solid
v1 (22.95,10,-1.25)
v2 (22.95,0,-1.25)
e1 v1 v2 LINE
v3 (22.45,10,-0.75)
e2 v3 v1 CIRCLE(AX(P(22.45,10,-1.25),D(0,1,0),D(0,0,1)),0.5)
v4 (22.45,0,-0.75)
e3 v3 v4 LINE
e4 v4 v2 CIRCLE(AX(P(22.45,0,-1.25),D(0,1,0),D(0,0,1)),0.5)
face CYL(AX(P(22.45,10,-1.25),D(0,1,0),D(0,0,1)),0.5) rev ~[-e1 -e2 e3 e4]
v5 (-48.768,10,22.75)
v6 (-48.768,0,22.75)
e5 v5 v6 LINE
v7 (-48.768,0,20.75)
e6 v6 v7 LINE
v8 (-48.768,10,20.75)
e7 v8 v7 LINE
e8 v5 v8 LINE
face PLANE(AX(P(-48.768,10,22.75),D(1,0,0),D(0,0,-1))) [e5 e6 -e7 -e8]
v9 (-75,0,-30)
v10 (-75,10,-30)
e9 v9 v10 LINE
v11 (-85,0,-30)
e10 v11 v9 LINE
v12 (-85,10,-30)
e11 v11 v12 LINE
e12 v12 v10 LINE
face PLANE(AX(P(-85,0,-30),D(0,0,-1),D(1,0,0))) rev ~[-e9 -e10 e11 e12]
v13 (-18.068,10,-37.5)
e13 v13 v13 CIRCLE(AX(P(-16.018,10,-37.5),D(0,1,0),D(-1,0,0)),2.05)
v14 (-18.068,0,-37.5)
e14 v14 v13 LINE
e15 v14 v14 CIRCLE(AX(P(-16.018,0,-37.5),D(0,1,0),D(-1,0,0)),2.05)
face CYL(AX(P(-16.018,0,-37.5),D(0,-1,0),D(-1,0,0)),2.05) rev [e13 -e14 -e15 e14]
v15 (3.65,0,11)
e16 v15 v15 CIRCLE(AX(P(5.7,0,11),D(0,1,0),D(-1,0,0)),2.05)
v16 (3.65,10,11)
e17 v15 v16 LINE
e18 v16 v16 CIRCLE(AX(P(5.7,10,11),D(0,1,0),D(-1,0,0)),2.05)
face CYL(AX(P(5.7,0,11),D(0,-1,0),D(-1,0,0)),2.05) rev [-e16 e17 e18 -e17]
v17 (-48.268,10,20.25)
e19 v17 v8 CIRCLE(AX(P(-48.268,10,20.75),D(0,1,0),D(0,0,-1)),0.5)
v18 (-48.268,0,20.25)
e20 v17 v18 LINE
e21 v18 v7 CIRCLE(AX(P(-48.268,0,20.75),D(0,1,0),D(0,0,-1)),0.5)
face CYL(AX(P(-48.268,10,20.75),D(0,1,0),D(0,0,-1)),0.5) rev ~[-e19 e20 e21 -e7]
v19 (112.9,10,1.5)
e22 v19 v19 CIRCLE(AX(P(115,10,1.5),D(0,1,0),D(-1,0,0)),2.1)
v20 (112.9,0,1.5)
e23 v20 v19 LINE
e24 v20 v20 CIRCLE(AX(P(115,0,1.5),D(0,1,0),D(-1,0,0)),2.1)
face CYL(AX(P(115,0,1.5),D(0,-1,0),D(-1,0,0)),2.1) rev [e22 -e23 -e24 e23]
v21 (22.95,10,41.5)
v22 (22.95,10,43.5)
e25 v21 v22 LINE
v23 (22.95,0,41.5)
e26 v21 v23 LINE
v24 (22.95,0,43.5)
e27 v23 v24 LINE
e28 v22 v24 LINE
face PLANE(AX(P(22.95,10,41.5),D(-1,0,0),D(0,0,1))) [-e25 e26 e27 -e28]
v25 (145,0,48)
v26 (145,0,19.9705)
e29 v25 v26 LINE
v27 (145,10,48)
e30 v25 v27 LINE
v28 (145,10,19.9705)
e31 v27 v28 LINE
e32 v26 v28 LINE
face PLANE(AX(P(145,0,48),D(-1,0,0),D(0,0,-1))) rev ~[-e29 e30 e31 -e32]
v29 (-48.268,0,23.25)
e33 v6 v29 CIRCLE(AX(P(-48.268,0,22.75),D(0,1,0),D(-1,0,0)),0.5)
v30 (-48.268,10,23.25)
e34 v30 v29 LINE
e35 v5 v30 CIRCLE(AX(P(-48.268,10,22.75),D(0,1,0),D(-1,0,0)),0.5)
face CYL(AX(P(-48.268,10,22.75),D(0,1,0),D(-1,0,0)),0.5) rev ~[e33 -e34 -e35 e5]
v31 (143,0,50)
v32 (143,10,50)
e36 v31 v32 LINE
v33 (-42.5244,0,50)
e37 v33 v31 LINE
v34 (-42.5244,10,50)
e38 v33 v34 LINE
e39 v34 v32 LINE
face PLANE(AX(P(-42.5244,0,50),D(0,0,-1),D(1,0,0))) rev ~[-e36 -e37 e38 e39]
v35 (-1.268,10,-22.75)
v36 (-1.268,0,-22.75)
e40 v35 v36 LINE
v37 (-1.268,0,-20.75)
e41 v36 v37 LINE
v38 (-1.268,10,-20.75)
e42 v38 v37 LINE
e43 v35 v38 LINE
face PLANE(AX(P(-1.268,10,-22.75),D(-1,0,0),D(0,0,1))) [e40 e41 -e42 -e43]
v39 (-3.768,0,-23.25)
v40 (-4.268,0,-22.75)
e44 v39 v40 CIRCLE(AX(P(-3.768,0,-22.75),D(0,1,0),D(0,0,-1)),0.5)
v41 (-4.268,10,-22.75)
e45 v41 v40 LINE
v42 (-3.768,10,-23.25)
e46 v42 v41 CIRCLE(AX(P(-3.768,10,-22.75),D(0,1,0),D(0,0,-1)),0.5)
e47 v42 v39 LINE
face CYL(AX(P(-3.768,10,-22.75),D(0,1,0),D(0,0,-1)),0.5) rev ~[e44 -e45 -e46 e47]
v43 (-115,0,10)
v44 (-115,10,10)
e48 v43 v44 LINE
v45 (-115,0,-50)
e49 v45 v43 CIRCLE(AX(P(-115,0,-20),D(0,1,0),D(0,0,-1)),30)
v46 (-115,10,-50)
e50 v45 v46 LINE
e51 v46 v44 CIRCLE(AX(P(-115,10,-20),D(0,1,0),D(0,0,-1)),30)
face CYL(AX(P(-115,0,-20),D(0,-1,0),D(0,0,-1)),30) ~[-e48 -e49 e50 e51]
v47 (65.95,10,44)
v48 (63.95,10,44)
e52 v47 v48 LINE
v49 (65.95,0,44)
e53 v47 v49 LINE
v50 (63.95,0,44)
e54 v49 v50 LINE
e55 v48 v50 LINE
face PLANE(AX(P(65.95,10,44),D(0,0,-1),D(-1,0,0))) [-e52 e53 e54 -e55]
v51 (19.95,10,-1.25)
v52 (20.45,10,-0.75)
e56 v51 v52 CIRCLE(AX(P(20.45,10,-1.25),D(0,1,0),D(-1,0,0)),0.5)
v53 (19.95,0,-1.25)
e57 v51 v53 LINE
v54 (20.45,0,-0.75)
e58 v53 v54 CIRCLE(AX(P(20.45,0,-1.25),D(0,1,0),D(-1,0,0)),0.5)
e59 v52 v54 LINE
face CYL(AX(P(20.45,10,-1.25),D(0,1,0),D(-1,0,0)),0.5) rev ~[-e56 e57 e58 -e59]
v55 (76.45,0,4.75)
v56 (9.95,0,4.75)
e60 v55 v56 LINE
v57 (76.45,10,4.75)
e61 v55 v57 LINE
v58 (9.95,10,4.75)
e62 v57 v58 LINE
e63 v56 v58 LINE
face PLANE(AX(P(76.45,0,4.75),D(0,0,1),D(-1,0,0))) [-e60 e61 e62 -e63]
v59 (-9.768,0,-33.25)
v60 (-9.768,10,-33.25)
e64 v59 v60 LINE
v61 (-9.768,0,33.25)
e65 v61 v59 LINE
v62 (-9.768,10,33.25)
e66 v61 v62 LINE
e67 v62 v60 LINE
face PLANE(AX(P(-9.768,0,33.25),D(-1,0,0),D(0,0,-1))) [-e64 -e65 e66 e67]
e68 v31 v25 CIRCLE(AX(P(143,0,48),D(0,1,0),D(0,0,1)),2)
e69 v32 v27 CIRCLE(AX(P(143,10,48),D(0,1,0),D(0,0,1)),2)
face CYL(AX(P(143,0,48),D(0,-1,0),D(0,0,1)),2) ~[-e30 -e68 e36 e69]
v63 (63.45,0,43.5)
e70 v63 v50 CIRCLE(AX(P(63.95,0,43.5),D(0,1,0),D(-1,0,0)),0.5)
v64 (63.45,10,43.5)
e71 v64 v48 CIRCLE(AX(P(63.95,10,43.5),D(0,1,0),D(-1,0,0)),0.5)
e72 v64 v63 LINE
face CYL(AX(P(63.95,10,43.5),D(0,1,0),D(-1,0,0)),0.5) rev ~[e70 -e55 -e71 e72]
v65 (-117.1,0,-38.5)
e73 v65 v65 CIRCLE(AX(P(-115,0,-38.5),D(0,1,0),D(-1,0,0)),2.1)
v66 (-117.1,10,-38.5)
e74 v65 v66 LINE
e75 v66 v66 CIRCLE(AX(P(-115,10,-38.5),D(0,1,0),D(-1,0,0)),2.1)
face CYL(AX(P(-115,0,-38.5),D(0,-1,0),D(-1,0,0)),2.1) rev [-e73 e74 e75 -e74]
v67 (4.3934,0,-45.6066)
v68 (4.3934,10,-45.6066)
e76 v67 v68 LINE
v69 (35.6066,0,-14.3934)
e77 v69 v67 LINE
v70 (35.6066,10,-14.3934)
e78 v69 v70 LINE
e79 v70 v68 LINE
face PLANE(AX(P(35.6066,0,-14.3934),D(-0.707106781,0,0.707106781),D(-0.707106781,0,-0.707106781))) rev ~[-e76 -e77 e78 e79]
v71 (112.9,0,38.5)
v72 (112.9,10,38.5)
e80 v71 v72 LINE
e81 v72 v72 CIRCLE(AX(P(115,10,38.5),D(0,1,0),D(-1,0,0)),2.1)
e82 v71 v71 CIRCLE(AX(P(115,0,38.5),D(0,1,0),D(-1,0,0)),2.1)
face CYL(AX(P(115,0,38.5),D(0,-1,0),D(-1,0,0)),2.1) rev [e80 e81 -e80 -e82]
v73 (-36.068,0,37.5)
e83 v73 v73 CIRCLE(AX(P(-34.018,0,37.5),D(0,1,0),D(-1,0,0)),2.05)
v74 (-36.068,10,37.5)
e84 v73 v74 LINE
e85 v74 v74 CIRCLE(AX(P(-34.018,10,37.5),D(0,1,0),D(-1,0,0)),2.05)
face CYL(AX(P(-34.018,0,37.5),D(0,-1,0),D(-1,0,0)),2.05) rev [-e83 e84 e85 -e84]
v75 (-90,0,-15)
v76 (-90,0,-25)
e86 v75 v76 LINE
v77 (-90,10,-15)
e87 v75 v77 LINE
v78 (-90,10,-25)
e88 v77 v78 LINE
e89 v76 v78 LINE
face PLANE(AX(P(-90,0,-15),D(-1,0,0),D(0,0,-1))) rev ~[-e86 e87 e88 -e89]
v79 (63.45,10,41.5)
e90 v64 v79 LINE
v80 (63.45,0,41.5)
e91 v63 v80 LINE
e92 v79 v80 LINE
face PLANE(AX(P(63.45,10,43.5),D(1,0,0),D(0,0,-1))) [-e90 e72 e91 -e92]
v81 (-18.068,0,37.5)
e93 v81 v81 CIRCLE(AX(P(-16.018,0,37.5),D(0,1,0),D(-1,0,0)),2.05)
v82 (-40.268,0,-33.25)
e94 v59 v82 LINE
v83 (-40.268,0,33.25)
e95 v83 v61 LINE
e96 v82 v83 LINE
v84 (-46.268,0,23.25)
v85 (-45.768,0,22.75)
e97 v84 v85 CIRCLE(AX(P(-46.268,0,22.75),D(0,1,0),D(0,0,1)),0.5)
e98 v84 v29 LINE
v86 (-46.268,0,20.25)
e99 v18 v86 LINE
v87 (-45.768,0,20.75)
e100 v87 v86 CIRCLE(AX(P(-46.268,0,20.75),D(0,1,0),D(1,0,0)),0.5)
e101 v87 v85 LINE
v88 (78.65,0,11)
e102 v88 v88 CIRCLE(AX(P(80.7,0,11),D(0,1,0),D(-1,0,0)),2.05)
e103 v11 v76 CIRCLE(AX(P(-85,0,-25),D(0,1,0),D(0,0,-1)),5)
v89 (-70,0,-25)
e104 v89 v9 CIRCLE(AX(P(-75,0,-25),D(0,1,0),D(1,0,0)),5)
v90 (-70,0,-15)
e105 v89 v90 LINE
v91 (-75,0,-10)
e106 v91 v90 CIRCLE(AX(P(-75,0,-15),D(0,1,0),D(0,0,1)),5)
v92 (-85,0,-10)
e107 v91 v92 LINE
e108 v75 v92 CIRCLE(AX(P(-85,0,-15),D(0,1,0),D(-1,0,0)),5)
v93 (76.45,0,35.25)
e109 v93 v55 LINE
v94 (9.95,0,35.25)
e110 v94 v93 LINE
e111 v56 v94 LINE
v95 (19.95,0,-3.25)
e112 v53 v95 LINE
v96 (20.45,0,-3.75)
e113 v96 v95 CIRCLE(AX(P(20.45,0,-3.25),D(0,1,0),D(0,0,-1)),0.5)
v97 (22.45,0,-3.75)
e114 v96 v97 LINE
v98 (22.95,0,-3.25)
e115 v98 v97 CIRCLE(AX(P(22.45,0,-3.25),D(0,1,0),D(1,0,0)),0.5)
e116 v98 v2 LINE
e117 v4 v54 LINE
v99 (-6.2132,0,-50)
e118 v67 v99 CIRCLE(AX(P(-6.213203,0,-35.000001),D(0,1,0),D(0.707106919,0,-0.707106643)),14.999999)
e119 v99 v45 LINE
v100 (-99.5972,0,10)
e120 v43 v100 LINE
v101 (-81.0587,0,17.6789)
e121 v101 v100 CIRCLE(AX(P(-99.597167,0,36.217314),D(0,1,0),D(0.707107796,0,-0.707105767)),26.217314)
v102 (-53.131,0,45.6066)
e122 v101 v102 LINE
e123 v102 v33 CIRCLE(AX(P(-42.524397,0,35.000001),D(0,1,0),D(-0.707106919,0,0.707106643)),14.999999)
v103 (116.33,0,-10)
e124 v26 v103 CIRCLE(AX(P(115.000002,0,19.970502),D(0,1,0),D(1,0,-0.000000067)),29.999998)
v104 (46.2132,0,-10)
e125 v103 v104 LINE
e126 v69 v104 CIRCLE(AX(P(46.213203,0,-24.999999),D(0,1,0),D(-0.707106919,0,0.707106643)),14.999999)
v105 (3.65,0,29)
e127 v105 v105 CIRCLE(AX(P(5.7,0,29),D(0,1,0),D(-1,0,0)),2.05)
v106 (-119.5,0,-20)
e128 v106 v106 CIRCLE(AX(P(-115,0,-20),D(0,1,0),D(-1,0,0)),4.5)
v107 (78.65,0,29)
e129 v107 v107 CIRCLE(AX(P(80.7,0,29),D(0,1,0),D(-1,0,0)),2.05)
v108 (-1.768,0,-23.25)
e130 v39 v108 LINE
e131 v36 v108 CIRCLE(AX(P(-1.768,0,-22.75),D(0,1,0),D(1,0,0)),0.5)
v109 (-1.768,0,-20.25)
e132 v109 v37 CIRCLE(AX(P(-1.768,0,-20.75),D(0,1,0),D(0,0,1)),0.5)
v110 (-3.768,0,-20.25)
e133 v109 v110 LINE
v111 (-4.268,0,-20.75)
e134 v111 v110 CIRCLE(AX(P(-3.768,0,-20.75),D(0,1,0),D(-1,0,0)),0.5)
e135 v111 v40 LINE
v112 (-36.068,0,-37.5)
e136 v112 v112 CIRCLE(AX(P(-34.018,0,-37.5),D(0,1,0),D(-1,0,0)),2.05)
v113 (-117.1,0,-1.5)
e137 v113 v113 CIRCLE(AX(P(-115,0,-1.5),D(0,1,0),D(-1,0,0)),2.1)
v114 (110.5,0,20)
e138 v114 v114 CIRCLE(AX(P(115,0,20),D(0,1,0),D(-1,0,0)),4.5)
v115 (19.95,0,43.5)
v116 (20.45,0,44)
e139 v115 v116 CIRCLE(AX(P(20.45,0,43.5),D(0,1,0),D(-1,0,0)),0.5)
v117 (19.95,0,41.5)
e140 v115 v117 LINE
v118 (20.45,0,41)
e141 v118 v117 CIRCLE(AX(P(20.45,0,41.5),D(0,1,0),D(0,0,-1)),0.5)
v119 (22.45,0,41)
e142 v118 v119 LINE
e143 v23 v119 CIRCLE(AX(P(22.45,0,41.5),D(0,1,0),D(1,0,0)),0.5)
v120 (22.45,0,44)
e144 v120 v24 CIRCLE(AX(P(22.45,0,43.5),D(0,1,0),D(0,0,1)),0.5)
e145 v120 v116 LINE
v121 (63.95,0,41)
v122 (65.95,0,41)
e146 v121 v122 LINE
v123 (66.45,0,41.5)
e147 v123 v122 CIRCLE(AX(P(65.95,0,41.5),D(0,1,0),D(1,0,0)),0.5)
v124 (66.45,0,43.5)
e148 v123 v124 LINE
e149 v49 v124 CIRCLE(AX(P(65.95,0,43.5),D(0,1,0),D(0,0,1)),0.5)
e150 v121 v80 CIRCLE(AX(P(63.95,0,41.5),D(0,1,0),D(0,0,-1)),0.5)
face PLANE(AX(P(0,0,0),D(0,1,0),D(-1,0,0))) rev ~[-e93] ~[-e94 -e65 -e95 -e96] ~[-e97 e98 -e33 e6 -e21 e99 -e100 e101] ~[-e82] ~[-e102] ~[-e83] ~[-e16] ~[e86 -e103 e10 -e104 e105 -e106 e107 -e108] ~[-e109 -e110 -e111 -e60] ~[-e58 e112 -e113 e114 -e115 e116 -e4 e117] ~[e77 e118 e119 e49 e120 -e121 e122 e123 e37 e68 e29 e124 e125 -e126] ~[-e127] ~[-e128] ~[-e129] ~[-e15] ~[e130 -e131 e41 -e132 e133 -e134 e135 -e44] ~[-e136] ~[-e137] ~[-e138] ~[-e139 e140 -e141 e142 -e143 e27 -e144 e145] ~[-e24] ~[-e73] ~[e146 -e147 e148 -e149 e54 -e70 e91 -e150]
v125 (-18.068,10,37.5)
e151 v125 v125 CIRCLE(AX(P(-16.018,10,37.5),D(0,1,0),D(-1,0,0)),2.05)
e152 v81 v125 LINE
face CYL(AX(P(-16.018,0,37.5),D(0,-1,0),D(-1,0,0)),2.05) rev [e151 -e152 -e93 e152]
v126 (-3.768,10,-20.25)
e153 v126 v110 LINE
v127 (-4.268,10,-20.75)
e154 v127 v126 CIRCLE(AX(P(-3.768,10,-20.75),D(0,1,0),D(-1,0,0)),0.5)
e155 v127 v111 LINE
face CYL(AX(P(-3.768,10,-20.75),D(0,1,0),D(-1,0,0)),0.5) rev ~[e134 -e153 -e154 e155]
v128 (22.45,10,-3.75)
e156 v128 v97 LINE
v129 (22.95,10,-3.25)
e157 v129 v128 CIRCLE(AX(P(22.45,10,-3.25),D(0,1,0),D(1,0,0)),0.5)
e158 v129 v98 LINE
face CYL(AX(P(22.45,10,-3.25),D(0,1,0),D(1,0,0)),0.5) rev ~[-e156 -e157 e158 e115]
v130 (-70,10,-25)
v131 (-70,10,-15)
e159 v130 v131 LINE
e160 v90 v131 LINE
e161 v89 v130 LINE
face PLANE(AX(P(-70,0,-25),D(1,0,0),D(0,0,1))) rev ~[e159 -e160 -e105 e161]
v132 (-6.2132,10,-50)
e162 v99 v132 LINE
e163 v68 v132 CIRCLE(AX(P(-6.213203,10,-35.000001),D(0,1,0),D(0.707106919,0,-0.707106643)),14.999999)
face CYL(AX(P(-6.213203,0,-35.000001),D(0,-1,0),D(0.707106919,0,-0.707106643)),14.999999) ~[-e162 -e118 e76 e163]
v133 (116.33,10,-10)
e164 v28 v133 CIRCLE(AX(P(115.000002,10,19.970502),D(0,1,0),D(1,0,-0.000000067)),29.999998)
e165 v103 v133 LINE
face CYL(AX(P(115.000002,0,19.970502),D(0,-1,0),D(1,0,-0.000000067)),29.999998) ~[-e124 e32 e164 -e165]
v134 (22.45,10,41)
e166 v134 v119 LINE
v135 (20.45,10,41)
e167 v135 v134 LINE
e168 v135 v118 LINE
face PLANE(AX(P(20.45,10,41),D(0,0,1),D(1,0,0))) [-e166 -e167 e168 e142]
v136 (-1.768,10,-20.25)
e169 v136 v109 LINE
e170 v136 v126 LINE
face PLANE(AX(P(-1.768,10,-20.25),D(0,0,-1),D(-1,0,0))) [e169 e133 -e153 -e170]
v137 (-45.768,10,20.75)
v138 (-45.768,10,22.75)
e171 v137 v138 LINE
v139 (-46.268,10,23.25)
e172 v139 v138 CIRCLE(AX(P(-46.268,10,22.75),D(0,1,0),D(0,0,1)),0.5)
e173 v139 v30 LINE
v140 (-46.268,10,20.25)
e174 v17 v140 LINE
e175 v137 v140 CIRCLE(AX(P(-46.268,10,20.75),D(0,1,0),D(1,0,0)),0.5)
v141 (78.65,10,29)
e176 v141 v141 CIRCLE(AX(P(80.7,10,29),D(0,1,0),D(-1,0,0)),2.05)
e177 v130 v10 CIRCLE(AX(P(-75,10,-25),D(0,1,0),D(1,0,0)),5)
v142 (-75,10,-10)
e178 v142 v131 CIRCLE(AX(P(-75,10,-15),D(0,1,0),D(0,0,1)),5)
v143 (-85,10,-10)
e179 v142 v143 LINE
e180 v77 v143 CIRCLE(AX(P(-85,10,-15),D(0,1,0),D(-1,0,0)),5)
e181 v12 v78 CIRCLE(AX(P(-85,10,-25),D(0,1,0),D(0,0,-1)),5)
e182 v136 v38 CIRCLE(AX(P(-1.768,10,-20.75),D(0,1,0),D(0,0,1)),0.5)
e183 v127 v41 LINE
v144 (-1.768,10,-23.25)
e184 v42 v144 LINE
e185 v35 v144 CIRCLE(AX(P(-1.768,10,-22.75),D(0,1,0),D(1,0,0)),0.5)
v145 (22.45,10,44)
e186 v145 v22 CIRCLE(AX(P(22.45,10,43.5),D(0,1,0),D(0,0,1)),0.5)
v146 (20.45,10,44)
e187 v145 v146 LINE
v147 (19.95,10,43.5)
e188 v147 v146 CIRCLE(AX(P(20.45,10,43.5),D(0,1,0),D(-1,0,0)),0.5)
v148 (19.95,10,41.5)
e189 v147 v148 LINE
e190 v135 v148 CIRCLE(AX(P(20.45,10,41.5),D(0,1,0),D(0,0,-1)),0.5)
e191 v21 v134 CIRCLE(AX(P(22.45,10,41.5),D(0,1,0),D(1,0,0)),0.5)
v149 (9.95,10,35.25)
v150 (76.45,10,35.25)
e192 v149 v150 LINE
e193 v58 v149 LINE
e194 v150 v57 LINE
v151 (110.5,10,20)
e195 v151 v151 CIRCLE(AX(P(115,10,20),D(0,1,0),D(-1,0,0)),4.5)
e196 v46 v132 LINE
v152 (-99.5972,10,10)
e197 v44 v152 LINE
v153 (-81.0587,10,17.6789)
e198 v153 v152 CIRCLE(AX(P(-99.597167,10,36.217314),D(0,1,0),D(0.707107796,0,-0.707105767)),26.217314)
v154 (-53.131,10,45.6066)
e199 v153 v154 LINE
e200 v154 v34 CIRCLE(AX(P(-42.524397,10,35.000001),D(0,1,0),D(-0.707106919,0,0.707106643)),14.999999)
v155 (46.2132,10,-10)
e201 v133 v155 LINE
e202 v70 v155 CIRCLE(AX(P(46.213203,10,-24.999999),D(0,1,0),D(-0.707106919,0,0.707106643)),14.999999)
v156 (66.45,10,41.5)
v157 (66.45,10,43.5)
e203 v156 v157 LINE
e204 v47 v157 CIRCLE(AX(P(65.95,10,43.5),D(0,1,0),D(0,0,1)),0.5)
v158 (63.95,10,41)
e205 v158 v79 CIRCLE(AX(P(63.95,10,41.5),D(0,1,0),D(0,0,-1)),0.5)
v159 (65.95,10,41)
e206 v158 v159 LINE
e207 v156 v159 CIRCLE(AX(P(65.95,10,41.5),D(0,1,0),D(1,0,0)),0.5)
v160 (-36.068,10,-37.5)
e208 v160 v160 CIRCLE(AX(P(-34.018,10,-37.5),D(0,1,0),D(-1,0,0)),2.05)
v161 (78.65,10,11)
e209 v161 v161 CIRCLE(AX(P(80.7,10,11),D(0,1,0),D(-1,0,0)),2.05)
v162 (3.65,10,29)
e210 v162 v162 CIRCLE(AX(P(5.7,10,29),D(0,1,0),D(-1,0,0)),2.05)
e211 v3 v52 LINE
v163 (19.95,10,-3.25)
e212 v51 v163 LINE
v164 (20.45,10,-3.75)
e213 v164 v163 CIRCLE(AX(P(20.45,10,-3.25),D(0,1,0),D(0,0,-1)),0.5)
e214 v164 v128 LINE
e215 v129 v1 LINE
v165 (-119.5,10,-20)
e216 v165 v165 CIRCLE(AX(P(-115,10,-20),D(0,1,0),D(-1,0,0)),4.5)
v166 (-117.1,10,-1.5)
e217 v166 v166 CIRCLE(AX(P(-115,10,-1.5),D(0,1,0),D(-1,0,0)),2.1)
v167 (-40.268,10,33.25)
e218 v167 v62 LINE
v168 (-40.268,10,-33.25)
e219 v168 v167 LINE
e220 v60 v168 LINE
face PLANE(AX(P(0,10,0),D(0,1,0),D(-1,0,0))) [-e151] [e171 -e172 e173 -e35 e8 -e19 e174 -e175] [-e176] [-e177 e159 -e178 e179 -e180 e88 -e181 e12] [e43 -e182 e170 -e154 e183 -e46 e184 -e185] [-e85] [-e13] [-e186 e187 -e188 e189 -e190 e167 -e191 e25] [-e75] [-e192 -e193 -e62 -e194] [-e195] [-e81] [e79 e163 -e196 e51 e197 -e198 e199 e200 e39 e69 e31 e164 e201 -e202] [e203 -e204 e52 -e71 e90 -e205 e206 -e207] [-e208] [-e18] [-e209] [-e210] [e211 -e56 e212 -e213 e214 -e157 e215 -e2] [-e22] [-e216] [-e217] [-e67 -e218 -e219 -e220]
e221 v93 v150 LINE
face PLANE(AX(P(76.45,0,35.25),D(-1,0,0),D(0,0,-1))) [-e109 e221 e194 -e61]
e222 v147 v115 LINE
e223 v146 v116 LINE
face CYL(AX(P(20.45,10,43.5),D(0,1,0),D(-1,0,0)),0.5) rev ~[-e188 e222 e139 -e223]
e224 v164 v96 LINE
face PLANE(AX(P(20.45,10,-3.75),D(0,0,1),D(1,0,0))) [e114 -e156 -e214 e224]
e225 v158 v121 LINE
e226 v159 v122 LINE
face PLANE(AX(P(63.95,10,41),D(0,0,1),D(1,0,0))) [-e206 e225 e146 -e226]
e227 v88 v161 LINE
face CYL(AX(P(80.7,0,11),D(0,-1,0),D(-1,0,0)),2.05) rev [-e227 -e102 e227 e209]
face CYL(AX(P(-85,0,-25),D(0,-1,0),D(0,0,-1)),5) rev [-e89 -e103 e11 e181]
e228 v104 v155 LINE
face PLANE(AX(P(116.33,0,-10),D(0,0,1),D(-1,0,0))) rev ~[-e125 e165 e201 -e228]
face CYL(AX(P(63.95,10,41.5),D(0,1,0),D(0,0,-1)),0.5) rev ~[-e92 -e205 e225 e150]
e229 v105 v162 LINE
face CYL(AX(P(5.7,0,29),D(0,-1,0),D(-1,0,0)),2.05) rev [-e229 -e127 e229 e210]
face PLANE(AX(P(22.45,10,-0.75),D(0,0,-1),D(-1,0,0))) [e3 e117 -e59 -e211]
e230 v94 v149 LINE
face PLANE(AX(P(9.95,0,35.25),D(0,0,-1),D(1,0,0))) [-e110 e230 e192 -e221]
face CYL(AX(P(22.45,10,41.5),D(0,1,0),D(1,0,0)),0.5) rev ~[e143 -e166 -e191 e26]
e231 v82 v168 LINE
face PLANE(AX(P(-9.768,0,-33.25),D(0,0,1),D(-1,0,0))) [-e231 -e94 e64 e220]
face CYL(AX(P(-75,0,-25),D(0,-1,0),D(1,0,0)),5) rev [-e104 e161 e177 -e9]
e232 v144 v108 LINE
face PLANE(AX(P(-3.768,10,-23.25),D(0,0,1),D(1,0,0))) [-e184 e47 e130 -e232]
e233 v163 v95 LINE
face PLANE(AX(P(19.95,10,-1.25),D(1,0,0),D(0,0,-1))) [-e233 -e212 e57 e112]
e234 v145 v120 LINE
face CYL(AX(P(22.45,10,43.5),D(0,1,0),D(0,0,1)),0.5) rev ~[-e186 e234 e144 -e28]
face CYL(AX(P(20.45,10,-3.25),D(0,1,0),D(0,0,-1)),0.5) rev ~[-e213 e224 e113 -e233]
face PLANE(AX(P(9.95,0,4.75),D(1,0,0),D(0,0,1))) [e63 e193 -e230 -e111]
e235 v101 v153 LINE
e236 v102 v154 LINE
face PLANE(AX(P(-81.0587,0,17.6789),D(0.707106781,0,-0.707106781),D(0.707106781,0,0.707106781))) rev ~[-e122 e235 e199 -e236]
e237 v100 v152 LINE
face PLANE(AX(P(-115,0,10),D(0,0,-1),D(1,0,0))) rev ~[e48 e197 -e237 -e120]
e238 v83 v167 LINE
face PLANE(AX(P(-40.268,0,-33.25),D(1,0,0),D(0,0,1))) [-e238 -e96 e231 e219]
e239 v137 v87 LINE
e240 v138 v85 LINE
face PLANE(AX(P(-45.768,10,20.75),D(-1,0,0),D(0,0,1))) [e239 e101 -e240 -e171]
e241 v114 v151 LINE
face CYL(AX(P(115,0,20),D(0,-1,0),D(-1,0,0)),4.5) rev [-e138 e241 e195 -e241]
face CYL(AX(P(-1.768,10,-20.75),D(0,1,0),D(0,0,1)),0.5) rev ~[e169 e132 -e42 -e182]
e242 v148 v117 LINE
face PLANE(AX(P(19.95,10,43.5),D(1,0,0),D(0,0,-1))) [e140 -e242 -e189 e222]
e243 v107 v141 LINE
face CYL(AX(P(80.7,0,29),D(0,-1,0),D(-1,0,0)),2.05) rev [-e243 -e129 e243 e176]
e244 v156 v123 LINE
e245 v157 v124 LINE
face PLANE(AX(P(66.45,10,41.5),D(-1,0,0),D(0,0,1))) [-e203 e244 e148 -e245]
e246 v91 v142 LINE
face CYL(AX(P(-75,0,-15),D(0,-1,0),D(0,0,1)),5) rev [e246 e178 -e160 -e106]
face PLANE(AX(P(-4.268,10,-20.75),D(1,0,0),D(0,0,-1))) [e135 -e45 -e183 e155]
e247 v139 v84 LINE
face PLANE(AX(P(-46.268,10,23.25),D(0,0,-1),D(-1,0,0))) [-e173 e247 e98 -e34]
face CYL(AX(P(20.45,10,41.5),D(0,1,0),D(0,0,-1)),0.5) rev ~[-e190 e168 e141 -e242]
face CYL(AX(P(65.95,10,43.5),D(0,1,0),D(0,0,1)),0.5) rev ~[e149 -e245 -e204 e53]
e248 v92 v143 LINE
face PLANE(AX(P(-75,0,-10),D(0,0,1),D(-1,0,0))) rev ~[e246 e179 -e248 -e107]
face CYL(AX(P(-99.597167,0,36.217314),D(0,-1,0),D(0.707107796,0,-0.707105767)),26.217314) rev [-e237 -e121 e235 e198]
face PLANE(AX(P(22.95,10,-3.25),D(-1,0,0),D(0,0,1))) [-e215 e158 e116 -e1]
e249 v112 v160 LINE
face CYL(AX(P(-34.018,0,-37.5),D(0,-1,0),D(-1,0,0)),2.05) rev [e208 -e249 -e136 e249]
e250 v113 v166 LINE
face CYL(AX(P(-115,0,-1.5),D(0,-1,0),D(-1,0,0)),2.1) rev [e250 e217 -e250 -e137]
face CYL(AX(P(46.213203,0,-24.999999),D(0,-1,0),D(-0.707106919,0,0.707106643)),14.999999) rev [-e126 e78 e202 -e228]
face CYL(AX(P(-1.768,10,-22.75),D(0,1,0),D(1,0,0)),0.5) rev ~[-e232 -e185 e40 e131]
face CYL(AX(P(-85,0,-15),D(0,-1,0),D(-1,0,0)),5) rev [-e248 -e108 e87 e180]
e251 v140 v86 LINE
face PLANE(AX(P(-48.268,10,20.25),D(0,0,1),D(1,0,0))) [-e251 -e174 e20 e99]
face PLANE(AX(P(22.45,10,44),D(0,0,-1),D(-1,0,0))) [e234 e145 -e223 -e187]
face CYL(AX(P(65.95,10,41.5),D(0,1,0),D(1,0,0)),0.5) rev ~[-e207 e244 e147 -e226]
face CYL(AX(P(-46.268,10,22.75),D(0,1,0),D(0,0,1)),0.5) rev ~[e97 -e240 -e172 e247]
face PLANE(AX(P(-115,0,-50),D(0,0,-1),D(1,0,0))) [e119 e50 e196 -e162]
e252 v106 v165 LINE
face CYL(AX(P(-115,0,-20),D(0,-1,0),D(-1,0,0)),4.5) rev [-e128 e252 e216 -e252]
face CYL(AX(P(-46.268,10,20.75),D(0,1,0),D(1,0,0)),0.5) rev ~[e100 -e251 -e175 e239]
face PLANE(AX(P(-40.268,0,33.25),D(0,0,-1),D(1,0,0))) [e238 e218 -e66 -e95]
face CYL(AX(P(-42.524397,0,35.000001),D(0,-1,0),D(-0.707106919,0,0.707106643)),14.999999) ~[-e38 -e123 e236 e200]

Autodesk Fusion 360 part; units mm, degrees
sketch "outline" plane through (0, 0, 0) normal (0, 1, 0) x (-1, 0, 0)
  circle A0 centre (115, -20) radius 4.5
  circle A1 centre (-115, 20) radius 4.5
  circle A2 centre (115, -38.5) radius 2.1
  circle A3 centre (115, -1.5) radius 2.1
  line L0 (115, 10) -> (99.5972, 10)
  line L1 (81.0587, 17.6789) -> (53.131, 45.6066)
  line L2 (42.5244, 50) -> (-143, 50)
  line L3 (115, -50) -> (20.0095, -50)
  arc A4 (81.0587, 17.6789) -> (99.5972, 10) centre (99.5972, 36.2173) ccw
  arc A5 (53.131, 45.6066) -> (42.5244, 50) centre (42.5244, 35) ccw
  circle A6 centre (-115, 38.5) radius 2.1
  circle A7 centre (-115, 1.5) radius 2.1
  line L4 (-116.33, -10) -> (-46.2132, -10)
  line L5 (-145, 48) -> (-145, 19.9705)
  arc A8 (-145, 19.9705) -> (-116.33, -10) centre (-115, 19.9705) ccw
  line L6 (6.2132, -50) -> (20.0095, -50)
  line L7 (-35.6066, -14.3934) -> (-4.3934, -45.6066)
  arc A9 (115, -50) -> (115, 10) centre (115, -20) ccw
  line L8 (40.268, -33.25) -> (40.268, 33.25)
  line L9 (9.768, -33.25) -> (40.268, -33.25)
  line L10 (40.268, 33.25) -> (9.768, 33.25)
  line L11 (9.768, 33.25) -> (9.768, -33.25)
  circle A10 centre (16.018, 37.5) radius 2.05
  circle A11 centre (16.018, -37.5) radius 2.05
  circle A12 centre (34.018, -37.5) radius 2.05
  circle A13 centre (34.018, 37.5) radius 2.05
  line L12 (-76.45, 4.75) -> (-9.95, 4.75)
  line L13 (-76.45, 35.25) -> (-76.45, 4.75)
  line L14 (-9.95, 4.75) -> (-9.95, 35.25)
  line L15 (-9.95, 35.25) -> (-76.45, 35.25)
  circle A14 centre (-5.7, 29) radius 2.05
  circle A15 centre (-80.7, 29) radius 2.05
  circle A16 centre (-80.7, 11) radius 2.05
  circle A17 centre (-5.7, 11) radius 2.05
  arc A18 (-4.3934, -45.6066) -> (6.2132, -50) centre (6.2132, -35) ccw
  arc A19 (-35.6066, -14.3934) -> (-46.2132, -10) centre (-46.2132, -25) ccw
  line L16 (85, -30) -> (75, -30)
  line L17 (70, -25) -> (70, -15)
  line L18 (75, -10) -> (85, -10)
  line L19 (90, -15) -> (90, -25)
  arc A20 (85, -30) -> (90, -25) centre (85, -25) ccw
  arc A21 (90, -15) -> (85, -10) centre (85, -15) ccw
  arc A22 (75, -10) -> (70, -15) centre (75, -15) ccw
  arc A23 (70, -25) -> (75, -30) centre (75, -25) ccw
  arc A24 (-143, 50) -> (-145, 48) centre (-143, 48) ccw
  dimension "d1" = 9
  dimension "d15" = 4.2
  dimension "d16" = 18.5
  dimension "d17" = 37
  dimension "d24" = 135
  dimension "d25" = 60
  dimension "d36" = 30
  dimension "d40" = 15
  dimension "d86" = 4.2
  dimension "d87" = 4.2
  dimension "d88" = 37
  dimension "d89" = 18.5
  dimension "d98" = 100
  dimension "d99" = 115
  dimension "d100" = 50
  dimension "d105" = 30
  dimension "d109" = 75
  dimension "d110" = 230
  dimension "d111" = 30
  dimension "d112" = 30
  dimension "d157" = 15.25
  dimension "d158" = 15.25
  dimension "d159" = 33.25
  dimension "d160" = 33.25
  dimension "d161" = 4.1
  dimension "d162" = 18
  dimension "d163" = 75
  dimension "d167" = 15.25
  dimension "d168" = 9
  dimension "d169" = 37.5
  dimension "d170" = 18
  dimension "d172" = 15.25
  dimension "d173" = 15.25
  dimension "d174" = 33.25
  dimension "d175" = 33.25
  dimension "d176" = 4.1
  dimension "d177" = 18
  dimension "d178" = 75
  dimension "d181" = 18.2
  dimension "d182" = 15.25
  dimension "d183" = 37.5
  dimension "d184" = 9
  dimension "d185" = 90
  dimension "d228" = 15
  dimension "d229" = 15
  dimension "d230" = 5
  dimension "d231" = 20
  dimension "d232" = 25
  dimension "d233" = 135
  dimension "d234" = 2
  dimension "d270" = 18.2
  dimension "d271" = 90
extrude "Extrusion2" add sketch "outline" along normal blind 10
sketch "Skizze3" plane through (0, 10, 0) normal (0, 1, 0) x (-1, 0, 0)
  circle A0 centre (16.018, 37.5) radius 2.05
  circle A1 centre (16.018, -37.5) radius 2.05
  circle A2 centre (34.018, -37.5) radius 2.05
  circle A3 centre (34.018, 37.5) radius 2.05
  circle A4 centre (-115, 1.5) radius 2.1
  line L0 (9.768, -33.25) -> (9.768, 33.25)
  line L1 (9.768, 33.25) -> (40.268, 33.25)
  line L2 (40.268, 33.25) -> (40.268, -33.25)
  line L3 (40.268, -33.25) -> (9.768, -33.25)
  circle A5 centre (-115, 38.5) radius 2.1
  circle A6 centre (115, -1.5) radius 2.1
  circle A7 centre (115, -38.5) radius 2.1
  circle A8 centre (-115, 20) radius 4.5
  circle A9 centre (115, -20) radius 4.5
  circle A10 centre (-80.7, 11) radius 2.05
  circle A11 centre (-5.7, 11) radius 2.05
  circle A12 centre (-80.7, 29) radius 2.05
  circle A13 centre (-5.7, 29) radius 2.05
  line L4 (-76.45, 35.25) -> (-9.95, 35.25)
  line L5 (-9.95, 35.25) -> (-9.95, 4.75)
  line L6 (-9.95, 4.75) -> (-76.45, 4.75)
  line L7 (-76.45, 4.75) -> (-76.45, 35.25)
  line L8 (81.0587, 17.6789) -> (53.131, 45.6066)
  arc A14 (53.131, 45.6066) -> (42.5244, 50) centre (42.5244, 35) ccw
  line L9 (42.5244, 50) -> (-143, 50)
  line L10 (-145, 48) -> (-145, 19.9705)
  arc A15 (-145, 19.9705) -> (-116.33, -10) centre (-115, 19.9705) ccw
  line L11 (-116.33, -10) -> (-46.2132, -10)
  line L12 (-35.6066, -14.3934) -> (-4.3934, -45.6066)
  line L13 (6.2132, -50) -> (115, -50)
  arc A16 (115, -50) -> (115, 10) centre (115, -20) ccw
  line L14 (115, 10) -> (99.5972, 10)
  arc A17 (81.0587, 17.6789) -> (99.5972, 10) centre (99.5972, 36.2173) ccw
  line L15 (6.2132, -50) -> (20.0095, -50)
  line L16 (115, -50) -> (20.0095, -50)
  line L17 (42.5244, 50) -> (-143, 50)
  arc A18 (-4.3934, -45.6066) -> (6.2132, -50) centre (6.2132, -35) ccw
  arc A19 (-35.6066, -14.3934) -> (-46.2132, -10) centre (-46.2132, -25) ccw
  arc A20 (75, -10) -> (70, -15) centre (75, -15) ccw
  line L18 (75, -10) -> (85, -10)
  arc A21 (90, -15) -> (85, -10) centre (85, -15) ccw
  line L19 (90, -15) -> (90, -25)
  arc A22 (85, -30) -> (90, -25) centre (85, -25) ccw
  line L20 (85, -30) -> (75, -30)
  arc A23 (70, -25) -> (75, -30) centre (75, -25) ccw
  line L21 (70, -25) -> (70, -15)
  arc A24 (-143, 50) -> (-145, 48) centre (-143, 48) ccw
  line L22 (48.268, 20.25) -> (46.268, 20.25)
  line L23 (45.768, 20.75) -> (45.768, 22.75)
  line L24 (46.268, 23.25) -> (48.268, 23.25)
  line L25 (48.768, 22.75) -> (48.768, 20.75)
  arc A25 (48.768, 22.75) -> (48.268, 23.25) centre (48.268, 22.75) ccw
  arc A26 (48.268, 20.25) -> (48.768, 20.75) centre (48.268, 20.75) ccw
  arc A27 (45.768, 20.75) -> (46.268, 20.25) centre (46.268, 20.75) ccw
  arc A28 (46.268, 23.25) -> (45.768, 22.75) centre (46.268, 22.75) ccw
  line L26 (1.268, -22.75) -> (1.268, -20.75)
  arc A29 (3.768, -23.25) -> (4.268, -22.75) centre (3.768, -22.75) ccw
  arc A30 (1.768, -20.25) -> (1.268, -20.75) centre (1.768, -20.75) ccw
  line L27 (1.768, -20.25) -> (3.768, -20.25)
  arc A31 (4.268, -20.75) -> (3.768, -20.25) centre (3.768, -20.75) ccw
  line L28 (4.268, -20.75) -> (4.268, -22.75)
  arc A32 (1.268, -22.75) -> (1.768, -23.25) centre (1.768, -22.75) ccw
  line L29 (3.768, -23.25) -> (1.768, -23.25)
  line L30 (-22.95, 41.5) -> (-22.95, 43.5)
  arc A33 (-20.45, 41) -> (-19.95, 41.5) centre (-20.45, 41.5) ccw
  arc A34 (-22.45, 44) -> (-22.95, 43.5) centre (-22.45, 43.5) ccw
  line L31 (-22.45, 44) -> (-20.45, 44)
  arc A35 (-19.95, 43.5) -> (-20.45, 44) centre (-20.45, 43.5) ccw
  line L32 (-19.95, 43.5) -> (-19.95, 41.5)
  arc A36 (-22.95, 41.5) -> (-22.45, 41) centre (-22.45, 41.5) ccw
  line L33 (-20.45, 41) -> (-22.45, 41)
  line L34 (-66.45, 41.5) -> (-66.45, 43.5)
  arc A37 (-63.95, 41) -> (-63.45, 41.5) centre (-63.95, 41.5) ccw
  arc A38 (-65.95, 44) -> (-66.45, 43.5) centre (-65.95, 43.5) ccw
  line L35 (-65.95, 44) -> (-63.95, 44)
  arc A39 (-63.45, 43.5) -> (-63.95, 44) centre (-63.95, 43.5) ccw
  line L36 (-63.45, 43.5) -> (-63.45, 41.5)
  arc A40 (-66.45, 41.5) -> (-65.95, 41) centre (-65.95, 41.5) ccw
  line L37 (-63.95, 41) -> (-65.95, 41)
  line L38 (-20.45, -3.75) -> (-22.45, -3.75)
  line L39 (-19.95, -1.25) -> (-19.95, -3.25)
  arc A41 (-20.45, -3.75) -> (-19.95, -3.25) centre (-20.45, -3.25) ccw
  arc A42 (-22.45, -0.75) -> (-22.95, -1.25) centre (-22.45, -1.25) ccw
  arc A43 (-22.95, -3.25) -> (-22.45, -3.75) centre (-22.45, -3.25) ccw
  line L40 (-22.95, -3.25) -> (-22.95, -1.25)
  line L41 (-22.45, -0.75) -> (-20.45, -0.75)
  arc A44 (-19.95, -1.25) -> (-20.45, -0.75) centre (-20.45, -1.25) ccw
  point P0 (-269.883, 0)
  dimension "d235" = 3
  dimension "d236" = 3
  dimension "d237" = 0.5
  dimension "d238" = 10
  dimension "d239" = 5.5
  dimension "d240" = 3
  dimension "d241" = 3
  dimension "d242" = 0.5
  dimension "d244" = 5.5
  dimension "d245" = 3
  dimension "d246" = 3
  dimension "d247" = 0.5
  dimension "d248" = 6
  dimension "d251" = 10
  dimension "d255" = 3
  dimension "d256" = 3
  dimension "d257" = 0.5
  dimension "d260" = 10
  dimension "d261" = 6
  dimension "d262" = 10
  dimension "d263" = 3
  dimension "d264" = 3
  dimension "d265" = 0.5
  dimension "d266" = 10
  dimension "d267" = 5.5
extrude "Extrusion5" cut sketch "Skizze3" against normal blind 10 contours L22 L23 L24 L25 A25 A26 A27 A28 | L26 A29 A30 L27 A31 L28 A32 L29 | L30 A33 A34 L31 A35 L32 A36 L33 | L34 A37 A38 L35 A39 L36 A40 L37 | L38 L39 A41 A42 A43 L40 L41 A44
equation "Belt_Diameter = 90 mm"
equation "d157 = 15 mm + tolerance"
equation "d158 = 15 mm + tolerance"
equation "d159 = 33 mm + tolerance"
equation "d160 = 33 mm + tolerance"
equation "d167 = 15 mm + tolerance"
equation "d172 = 15 mm + tolerance"
equation "d173 = 15 mm + tolerance"
equation "d174 = 33 mm + tolerance"
equation "d175 = 33 mm + tolerance"
equation "d182 = 15 mm + tolerance"
equation "tolerance = 0.25 mm"
